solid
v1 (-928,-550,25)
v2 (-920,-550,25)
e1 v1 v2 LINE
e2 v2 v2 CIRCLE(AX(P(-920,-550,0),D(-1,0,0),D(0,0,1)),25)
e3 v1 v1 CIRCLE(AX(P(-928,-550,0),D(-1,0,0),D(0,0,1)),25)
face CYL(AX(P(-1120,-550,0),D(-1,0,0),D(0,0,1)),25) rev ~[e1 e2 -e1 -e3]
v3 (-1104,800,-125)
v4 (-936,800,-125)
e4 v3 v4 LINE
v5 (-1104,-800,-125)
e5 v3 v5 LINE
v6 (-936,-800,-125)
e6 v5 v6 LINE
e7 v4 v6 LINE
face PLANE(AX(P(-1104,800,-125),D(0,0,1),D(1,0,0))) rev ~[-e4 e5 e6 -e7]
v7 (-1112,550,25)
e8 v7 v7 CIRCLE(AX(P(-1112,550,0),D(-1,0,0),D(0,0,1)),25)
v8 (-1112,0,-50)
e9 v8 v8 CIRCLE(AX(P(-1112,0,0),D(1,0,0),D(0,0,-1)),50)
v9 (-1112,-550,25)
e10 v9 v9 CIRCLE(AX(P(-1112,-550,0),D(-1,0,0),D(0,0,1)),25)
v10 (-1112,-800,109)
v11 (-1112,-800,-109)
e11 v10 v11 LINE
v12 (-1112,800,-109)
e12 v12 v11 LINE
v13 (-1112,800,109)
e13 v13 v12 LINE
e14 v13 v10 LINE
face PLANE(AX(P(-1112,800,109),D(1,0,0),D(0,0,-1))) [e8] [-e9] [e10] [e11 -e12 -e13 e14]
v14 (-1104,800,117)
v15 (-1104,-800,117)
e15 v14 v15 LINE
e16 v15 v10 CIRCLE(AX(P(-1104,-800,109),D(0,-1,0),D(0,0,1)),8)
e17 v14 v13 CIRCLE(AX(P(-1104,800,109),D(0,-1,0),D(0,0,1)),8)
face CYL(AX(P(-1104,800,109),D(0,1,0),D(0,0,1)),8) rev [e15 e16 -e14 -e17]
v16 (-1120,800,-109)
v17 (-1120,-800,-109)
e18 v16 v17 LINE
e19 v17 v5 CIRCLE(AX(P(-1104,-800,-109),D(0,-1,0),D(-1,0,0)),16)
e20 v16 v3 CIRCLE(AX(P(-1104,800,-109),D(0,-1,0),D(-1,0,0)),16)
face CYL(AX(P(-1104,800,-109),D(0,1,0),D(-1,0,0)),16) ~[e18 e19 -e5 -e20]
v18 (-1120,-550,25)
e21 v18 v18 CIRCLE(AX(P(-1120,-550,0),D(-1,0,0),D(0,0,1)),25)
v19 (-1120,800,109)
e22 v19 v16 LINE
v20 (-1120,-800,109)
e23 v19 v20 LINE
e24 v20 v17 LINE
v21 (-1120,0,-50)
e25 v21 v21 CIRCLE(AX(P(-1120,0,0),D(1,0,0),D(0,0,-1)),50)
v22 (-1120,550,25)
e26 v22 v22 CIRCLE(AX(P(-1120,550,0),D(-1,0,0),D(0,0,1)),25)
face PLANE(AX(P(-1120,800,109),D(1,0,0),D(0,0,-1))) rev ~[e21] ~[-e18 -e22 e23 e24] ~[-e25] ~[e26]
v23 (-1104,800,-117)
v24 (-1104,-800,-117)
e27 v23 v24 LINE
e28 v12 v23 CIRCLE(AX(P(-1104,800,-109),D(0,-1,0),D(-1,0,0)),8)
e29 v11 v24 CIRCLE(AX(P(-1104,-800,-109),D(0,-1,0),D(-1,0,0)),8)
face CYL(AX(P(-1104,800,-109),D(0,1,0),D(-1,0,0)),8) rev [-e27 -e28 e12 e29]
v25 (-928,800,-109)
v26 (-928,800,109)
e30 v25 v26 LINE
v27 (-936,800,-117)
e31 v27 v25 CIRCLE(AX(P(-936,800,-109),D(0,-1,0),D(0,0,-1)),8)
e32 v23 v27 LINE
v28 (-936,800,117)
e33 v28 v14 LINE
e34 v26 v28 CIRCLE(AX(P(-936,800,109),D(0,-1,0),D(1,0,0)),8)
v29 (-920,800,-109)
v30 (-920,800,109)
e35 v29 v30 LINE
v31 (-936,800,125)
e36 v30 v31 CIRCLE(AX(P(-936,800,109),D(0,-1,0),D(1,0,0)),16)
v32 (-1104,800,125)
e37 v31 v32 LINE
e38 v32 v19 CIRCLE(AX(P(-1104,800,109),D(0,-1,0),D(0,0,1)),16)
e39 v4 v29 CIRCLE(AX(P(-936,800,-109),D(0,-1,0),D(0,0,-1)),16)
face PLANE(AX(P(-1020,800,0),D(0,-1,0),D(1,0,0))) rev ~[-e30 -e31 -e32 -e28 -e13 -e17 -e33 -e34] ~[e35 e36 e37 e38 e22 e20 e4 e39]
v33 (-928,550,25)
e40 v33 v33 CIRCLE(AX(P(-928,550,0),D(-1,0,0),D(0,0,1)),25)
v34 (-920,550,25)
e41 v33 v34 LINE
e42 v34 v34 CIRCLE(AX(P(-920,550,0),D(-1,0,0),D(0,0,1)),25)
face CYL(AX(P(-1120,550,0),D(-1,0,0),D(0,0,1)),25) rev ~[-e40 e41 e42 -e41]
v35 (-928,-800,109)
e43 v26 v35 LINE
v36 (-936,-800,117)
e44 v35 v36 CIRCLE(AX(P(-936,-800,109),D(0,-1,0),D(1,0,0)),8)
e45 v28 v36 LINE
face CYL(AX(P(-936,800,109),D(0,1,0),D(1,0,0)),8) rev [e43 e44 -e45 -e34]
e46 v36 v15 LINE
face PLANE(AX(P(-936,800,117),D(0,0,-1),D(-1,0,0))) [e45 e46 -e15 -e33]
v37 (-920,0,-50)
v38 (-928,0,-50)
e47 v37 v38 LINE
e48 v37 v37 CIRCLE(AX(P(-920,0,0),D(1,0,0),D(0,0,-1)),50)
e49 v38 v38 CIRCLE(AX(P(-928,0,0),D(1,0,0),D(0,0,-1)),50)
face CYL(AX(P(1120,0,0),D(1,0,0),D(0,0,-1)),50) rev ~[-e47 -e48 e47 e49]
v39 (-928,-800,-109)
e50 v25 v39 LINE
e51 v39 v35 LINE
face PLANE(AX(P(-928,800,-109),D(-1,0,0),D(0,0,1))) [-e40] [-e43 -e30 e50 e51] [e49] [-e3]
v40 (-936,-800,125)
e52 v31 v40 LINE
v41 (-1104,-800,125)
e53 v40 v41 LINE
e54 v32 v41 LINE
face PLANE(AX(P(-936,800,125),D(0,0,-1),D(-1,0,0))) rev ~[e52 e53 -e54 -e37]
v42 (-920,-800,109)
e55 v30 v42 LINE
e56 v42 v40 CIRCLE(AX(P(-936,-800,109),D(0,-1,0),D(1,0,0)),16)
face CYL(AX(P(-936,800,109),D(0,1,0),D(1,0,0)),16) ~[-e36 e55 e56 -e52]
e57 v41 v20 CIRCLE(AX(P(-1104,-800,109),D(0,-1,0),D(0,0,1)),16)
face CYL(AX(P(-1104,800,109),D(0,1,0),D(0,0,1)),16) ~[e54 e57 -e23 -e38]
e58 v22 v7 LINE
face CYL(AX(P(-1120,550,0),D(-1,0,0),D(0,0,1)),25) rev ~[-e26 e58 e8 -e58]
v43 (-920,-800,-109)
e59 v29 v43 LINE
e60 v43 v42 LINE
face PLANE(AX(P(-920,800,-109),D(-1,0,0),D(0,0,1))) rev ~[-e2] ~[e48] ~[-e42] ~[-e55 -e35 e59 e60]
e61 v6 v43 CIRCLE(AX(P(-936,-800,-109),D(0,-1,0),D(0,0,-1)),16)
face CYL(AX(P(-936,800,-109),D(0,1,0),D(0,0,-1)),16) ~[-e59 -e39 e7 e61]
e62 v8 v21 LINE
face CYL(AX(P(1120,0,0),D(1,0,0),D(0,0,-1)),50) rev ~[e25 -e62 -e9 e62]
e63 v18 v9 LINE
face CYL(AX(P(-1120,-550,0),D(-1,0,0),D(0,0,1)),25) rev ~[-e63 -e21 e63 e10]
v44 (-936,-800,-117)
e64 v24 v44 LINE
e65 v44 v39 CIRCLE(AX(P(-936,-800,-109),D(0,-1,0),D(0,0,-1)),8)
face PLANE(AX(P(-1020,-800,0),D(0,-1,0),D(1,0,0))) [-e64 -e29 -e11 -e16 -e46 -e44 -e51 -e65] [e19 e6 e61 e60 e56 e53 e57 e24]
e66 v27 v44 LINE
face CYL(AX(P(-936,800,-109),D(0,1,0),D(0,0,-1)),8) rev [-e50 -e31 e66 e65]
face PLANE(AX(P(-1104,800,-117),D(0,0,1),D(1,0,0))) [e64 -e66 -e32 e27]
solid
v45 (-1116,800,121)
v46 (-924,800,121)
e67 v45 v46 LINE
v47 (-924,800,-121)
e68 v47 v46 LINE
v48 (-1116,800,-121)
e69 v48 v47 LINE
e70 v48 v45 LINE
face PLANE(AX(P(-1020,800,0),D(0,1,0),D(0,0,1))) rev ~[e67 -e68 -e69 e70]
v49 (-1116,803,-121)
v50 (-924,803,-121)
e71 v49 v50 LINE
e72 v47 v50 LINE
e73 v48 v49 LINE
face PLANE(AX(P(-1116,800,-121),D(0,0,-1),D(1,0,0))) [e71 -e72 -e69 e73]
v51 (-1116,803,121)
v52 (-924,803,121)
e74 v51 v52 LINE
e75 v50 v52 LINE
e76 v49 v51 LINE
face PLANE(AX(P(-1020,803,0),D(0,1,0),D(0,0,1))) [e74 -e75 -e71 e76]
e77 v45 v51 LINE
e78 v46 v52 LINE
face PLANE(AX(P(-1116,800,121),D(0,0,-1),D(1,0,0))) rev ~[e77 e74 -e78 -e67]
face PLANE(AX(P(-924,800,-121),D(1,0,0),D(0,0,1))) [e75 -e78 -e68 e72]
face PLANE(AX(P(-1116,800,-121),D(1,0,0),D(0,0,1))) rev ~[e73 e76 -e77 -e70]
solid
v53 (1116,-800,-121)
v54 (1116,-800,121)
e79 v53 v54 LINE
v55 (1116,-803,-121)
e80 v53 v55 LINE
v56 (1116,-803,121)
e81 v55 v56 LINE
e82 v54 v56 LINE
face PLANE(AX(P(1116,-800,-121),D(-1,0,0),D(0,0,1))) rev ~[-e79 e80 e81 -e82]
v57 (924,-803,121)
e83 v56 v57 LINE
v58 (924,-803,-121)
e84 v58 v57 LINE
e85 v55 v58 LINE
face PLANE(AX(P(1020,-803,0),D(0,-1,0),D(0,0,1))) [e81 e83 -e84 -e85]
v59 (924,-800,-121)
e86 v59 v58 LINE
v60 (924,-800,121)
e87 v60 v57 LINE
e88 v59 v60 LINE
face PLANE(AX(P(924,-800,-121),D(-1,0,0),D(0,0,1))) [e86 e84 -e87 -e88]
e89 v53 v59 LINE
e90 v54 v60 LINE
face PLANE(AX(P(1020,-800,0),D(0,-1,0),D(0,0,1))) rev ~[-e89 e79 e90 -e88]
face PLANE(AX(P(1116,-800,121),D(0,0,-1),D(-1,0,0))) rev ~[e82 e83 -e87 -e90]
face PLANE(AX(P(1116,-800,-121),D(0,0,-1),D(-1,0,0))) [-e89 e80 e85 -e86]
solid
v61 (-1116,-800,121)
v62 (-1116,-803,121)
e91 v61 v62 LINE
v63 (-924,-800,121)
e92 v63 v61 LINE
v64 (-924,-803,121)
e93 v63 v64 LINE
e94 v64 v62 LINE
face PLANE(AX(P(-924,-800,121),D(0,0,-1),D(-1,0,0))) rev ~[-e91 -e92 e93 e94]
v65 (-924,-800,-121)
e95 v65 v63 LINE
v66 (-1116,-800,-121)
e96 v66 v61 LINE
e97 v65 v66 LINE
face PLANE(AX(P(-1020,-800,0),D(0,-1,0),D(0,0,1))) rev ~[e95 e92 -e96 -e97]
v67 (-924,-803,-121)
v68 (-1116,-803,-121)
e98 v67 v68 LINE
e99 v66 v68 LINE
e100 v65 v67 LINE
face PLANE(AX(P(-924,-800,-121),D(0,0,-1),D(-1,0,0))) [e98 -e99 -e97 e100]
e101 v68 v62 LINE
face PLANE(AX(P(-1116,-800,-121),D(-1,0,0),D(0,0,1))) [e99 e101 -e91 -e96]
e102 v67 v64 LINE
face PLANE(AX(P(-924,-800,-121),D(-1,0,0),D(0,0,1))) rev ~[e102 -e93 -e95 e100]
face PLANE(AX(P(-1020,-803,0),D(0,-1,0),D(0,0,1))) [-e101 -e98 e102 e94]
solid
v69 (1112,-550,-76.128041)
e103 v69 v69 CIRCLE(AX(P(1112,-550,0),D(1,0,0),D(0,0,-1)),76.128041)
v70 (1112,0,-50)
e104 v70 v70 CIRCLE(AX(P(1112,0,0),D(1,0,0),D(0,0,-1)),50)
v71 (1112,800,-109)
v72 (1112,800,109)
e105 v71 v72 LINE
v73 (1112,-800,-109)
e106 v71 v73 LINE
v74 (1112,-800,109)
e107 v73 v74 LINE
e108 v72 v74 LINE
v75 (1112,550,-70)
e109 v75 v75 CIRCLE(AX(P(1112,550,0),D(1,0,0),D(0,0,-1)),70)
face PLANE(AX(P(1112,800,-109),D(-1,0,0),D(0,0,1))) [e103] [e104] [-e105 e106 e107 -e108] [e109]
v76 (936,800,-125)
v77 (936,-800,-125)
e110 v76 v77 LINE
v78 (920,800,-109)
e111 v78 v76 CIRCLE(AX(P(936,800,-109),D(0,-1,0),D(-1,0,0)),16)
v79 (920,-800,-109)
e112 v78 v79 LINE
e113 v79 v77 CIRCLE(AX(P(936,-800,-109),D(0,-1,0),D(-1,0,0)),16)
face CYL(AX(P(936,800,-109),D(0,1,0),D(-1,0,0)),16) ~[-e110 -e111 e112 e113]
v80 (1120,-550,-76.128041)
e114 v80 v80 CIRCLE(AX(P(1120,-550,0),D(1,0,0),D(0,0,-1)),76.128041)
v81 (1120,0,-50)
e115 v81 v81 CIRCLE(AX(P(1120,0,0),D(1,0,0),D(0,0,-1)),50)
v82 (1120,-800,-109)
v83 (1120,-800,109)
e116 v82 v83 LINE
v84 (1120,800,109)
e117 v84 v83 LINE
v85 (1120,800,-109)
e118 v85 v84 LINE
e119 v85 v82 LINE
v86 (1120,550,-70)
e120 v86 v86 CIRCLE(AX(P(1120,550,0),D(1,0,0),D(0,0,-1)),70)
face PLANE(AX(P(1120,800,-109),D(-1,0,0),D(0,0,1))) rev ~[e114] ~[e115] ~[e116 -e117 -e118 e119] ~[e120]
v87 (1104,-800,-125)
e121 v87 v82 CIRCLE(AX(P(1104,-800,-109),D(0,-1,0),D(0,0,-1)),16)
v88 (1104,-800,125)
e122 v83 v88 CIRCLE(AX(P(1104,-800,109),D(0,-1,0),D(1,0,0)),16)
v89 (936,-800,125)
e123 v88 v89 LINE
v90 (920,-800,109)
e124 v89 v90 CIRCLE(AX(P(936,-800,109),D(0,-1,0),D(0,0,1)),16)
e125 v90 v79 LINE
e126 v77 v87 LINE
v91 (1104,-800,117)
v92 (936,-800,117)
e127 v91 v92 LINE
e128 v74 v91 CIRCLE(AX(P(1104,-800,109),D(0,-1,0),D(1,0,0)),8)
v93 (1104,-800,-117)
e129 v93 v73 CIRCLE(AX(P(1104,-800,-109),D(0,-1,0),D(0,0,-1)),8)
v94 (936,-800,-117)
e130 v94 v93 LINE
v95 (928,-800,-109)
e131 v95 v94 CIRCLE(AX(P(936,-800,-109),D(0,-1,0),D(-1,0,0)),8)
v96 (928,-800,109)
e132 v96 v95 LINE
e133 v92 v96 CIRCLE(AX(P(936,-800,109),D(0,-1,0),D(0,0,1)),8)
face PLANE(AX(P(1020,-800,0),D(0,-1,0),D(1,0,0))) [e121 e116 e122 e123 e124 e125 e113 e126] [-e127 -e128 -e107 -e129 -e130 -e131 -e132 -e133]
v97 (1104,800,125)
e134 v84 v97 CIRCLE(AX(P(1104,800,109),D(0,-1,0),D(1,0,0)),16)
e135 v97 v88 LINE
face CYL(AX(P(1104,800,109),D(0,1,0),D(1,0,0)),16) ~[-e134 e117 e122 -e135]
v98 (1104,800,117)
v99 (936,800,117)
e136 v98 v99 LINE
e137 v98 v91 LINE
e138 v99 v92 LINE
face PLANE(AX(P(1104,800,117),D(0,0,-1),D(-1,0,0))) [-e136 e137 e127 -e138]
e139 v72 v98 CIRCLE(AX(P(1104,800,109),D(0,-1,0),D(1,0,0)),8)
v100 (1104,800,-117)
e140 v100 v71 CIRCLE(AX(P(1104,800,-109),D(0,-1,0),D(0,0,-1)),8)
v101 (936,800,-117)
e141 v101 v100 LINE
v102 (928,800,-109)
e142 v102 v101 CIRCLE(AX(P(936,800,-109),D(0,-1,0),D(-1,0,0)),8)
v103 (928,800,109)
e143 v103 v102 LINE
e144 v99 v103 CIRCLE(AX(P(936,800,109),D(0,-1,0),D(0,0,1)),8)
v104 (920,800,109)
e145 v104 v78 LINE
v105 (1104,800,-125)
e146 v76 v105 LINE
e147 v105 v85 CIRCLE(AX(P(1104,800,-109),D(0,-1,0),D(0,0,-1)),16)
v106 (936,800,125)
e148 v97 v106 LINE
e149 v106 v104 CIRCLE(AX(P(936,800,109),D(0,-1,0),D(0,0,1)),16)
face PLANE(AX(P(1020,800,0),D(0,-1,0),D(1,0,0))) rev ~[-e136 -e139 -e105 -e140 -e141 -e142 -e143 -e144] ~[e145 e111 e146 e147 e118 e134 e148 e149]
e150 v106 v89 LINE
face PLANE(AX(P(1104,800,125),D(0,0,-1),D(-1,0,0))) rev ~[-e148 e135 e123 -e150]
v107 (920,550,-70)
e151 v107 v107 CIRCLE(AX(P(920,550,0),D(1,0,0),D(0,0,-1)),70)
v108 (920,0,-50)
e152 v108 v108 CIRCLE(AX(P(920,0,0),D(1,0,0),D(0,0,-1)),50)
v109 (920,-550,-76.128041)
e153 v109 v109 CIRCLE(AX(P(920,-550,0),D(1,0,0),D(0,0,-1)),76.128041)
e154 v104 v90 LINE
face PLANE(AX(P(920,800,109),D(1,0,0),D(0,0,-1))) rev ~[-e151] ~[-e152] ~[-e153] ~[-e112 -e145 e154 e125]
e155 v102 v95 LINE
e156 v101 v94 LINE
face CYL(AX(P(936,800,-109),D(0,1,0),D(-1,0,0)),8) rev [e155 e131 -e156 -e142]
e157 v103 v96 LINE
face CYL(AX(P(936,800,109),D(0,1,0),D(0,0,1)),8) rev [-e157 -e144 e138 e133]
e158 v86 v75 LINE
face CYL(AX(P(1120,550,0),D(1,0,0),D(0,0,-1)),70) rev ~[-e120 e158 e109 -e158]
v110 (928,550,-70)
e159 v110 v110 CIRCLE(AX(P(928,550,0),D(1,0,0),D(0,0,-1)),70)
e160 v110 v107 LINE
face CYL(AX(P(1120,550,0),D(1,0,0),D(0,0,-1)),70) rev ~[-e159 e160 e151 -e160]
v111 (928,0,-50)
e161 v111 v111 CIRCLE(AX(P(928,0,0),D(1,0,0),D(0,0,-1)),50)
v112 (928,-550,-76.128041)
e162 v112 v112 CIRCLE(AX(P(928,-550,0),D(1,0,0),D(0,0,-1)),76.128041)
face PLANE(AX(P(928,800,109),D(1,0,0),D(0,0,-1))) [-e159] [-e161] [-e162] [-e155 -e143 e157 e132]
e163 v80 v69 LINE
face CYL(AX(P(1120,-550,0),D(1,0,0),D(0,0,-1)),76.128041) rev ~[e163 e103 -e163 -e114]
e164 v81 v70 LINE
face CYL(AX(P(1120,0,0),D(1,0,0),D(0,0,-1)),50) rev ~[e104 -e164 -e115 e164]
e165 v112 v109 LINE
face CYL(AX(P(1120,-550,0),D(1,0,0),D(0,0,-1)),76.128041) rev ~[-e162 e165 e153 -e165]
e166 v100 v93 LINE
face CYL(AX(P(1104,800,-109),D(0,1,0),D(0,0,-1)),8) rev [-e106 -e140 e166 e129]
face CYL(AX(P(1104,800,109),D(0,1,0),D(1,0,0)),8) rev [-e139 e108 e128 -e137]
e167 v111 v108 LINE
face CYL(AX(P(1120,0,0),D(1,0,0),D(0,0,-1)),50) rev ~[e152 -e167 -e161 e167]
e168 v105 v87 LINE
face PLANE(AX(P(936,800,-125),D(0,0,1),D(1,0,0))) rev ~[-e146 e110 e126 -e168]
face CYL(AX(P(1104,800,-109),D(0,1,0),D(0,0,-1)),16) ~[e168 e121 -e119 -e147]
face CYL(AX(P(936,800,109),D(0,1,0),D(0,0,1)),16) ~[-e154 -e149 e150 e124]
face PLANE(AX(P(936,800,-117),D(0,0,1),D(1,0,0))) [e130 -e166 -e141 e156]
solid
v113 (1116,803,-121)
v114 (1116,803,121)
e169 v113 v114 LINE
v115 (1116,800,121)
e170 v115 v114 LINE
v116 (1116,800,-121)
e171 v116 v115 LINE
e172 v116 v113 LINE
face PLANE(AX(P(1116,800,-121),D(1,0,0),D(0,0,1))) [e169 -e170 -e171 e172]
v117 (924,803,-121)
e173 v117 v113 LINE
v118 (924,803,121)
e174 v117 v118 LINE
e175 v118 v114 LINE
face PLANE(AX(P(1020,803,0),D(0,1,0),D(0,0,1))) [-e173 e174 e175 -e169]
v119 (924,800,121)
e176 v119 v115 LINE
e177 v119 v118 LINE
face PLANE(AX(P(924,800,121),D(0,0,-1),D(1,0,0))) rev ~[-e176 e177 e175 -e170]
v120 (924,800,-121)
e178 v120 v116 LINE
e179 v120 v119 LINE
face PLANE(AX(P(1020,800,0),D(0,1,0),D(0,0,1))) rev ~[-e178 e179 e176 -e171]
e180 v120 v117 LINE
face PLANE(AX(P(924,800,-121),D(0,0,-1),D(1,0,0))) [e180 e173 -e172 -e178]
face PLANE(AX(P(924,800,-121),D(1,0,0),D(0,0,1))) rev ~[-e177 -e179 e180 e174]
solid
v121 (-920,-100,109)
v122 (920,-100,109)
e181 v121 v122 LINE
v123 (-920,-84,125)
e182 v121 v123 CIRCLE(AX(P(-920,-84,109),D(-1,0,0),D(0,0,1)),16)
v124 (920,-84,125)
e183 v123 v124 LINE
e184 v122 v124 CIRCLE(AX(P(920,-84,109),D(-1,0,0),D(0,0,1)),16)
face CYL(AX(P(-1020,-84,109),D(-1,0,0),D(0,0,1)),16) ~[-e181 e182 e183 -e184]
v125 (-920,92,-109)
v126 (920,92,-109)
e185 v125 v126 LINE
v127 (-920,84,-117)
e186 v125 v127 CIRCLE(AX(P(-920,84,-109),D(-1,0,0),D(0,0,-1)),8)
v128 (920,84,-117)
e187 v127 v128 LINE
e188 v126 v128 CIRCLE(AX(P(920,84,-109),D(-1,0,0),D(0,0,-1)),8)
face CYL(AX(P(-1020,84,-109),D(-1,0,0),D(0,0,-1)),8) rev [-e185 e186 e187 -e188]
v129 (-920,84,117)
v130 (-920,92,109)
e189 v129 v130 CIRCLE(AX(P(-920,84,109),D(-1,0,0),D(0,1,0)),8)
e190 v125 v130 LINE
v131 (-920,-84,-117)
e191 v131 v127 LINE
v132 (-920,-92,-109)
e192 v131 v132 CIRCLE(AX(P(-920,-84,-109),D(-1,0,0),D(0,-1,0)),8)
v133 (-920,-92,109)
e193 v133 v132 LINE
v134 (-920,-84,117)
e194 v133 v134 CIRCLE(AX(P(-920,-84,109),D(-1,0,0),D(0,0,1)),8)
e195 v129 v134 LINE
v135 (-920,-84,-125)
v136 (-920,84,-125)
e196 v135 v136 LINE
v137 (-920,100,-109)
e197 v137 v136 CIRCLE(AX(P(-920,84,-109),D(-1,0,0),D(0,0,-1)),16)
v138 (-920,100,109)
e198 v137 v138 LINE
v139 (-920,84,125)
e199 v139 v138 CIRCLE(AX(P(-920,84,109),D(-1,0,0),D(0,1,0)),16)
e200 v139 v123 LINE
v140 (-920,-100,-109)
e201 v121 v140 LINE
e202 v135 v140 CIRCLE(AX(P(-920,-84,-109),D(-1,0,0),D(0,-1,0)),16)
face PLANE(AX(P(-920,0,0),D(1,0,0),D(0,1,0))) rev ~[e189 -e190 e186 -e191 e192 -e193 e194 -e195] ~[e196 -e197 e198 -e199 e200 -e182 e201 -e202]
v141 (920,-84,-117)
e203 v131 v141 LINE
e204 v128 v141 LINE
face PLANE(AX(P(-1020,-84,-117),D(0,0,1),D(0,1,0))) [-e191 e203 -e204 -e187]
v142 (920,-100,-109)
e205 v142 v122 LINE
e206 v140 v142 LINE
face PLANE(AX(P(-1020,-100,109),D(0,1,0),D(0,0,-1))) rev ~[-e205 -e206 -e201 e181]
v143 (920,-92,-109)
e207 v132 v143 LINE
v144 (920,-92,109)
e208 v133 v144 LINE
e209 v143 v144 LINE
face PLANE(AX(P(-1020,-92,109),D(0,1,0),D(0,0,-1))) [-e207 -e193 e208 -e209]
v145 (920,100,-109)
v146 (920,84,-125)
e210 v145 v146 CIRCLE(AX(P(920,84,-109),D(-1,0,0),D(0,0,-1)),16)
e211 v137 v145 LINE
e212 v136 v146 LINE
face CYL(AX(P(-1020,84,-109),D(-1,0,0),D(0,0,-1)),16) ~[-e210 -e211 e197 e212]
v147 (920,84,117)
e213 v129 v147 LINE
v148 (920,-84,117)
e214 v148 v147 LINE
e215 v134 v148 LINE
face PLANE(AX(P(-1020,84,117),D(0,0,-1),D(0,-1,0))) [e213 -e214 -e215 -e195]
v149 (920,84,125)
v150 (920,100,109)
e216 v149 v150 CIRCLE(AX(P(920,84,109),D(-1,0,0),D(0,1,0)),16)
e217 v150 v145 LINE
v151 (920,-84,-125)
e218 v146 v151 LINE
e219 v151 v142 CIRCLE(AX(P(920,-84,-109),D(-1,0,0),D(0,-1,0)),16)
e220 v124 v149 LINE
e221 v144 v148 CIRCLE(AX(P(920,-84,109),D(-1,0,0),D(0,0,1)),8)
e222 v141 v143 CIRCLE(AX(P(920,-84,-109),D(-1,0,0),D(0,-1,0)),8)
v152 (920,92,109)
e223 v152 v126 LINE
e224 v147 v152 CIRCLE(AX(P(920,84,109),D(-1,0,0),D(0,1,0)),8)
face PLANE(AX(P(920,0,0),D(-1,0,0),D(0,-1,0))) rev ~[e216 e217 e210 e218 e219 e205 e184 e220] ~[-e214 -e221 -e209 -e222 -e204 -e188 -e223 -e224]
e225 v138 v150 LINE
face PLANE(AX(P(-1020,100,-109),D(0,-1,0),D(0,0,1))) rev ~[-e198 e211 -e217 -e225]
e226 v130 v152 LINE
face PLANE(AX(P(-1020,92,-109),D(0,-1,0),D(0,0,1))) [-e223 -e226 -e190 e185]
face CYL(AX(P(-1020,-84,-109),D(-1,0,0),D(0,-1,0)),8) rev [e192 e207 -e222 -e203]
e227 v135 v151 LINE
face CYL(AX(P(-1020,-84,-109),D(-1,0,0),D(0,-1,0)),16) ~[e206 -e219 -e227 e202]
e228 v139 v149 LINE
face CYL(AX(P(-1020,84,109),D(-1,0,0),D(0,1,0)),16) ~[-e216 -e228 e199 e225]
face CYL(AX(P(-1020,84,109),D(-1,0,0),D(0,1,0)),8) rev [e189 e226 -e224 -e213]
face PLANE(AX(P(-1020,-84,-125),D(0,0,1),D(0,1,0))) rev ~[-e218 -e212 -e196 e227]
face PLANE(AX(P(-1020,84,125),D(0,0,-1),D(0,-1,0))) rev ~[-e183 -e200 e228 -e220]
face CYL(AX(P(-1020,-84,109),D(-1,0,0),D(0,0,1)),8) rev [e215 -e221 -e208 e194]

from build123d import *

# Parameters (mm, degrees)
MEMBER_1_DEPTH         = 1600
MEMBER_1_2_DEPTH       = 1600
MEMBER_2_DEPTH         = 2040
CUT_EXTRUDE_1_REACH    = 2383.853
SKETCH_2_R             = 70
SKETCH_2_R_2           = 76.128040806
SKETCH_3_R             = 50
CUT_EXTRUDE_2_DEPTH    = 2382.85327004
END_CAP_1_WIDTH        = 242
END_CAP_1_HEIGHT       = 192
END_CAP_1_THICKNESS    = 3
END_CAP_1_4_WIDTH      = 242
END_CAP_1_4_HEIGHT     = 192
END_CAP_1_4_THICKNESS  = 3
END_CAP_1_7_WIDTH      = 242
END_CAP_1_7_HEIGHT     = 192
END_CAP_1_7_THICKNESS  = 3
END_CAP_1_10_WIDTH     = 242
END_CAP_1_10_HEIGHT    = 192
END_CAP_1_10_THICKNESS = 3
CUT_EXTRUDE_3_REACH    = 2384.863
SKETCH_5_R             = 25


with BuildPart() as part:
    # Sketch1 → Member 1 (new body)
    with BuildSketch(Plane(origin=(-1020, 800, 0), x_dir=(1, 0, 0), z_dir=(0, -1, 0))):
        with BuildLine():
            Line((-84, -125), (84, -125))
            ThreePointArc((84, -125), (95.313708499, -120.313708499), (100, -109))
            Line((100, -109), (100, 109))
            ThreePointArc((100, 109), (95.313708499, 120.313708499), (84, 125))
            Line((84, 125), (-84, 125))
            ThreePointArc((-84, 125), (-95.313708499, 120.313708499), (-100, 109))
            Line((-100, 109), (-100, -109))
            ThreePointArc((-100, -109), (-95.313708499, -120.313708499), (-84, -125))
        make_face()
        with BuildLine():
            Line((-84, -117), (84, -117))
            ThreePointArc((84, -117), (89.656854249, -114.656854249), (92, -109))
            Line((92, -109), (92, 109))
            ThreePointArc((92, 109), (89.656854249, 114.656854249), (84, 117))
            Line((84, 117), (-84, 117))
            ThreePointArc((-84, 117), (-89.656854249, 114.656854249), (-92, 109))
            Line((-92, 109), (-92, -109))
            ThreePointArc((-92, -109), (-89.656854249, -114.656854249), (-84, -117))
        make_face(mode=Mode.SUBTRACT)
    extrude(amount=MEMBER_1_DEPTH)


with BuildPart() as body_2:
    # Sketch1 on segment 2 (carried to segment 2) → Member 1 2 (new body)
    with BuildSketch(Plane(origin=(1020, 800, 0), x_dir=(1, 0, 0), z_dir=(0, -1, 0))):
        with BuildLine():
            Line((-84, -125), (84, -125))
            ThreePointArc((84, -125), (95.313708499, -120.313708499), (100, -109))
            Line((100, -109), (100, 109))
            ThreePointArc((100, 109), (95.313708499, 120.313708499), (84, 125))
            Line((84, 125), (-84, 125))
            ThreePointArc((-84, 125), (-95.313708499, 120.313708499), (-100, 109))
            Line((-100, 109), (-100, -109))
            ThreePointArc((-100, -109), (-95.313708499, -120.313708499), (-84, -125))
        make_face()
        with BuildLine():
            Line((-84, -117), (84, -117))
            ThreePointArc((84, -117), (89.656854249, -114.656854249), (92, -109))
            Line((92, -109), (92, 109))
            ThreePointArc((92, 109), (89.656854249, 114.656854249), (84, 117))
            Line((84, 117), (-84, 117))
            ThreePointArc((-84, 117), (-89.656854249, 114.656854249), (-92, 109))
            Line((-92, 109), (-92, -109))
            ThreePointArc((-92, -109), (-89.656854249, -114.656854249), (-84, -117))
        make_face(mode=Mode.SUBTRACT)
    extrude(amount=MEMBER_1_2_DEPTH)

    # 切除-拉伸1: up to this face of the body (flat: up to its plane)
    cut_extrude_1_end = Plane(body_2.part.faces().sort_by_distance((920, 0, 0))[0])
    # 草图2 → 切除-拉伸1 (cut, up to the picked face)
    with BuildSketch(Plane(origin=(1120, 0, 0), x_dir=(0, 0, -1), z_dir=(1, 0, 0)), mode=Mode.PRIVATE) as cut_extrude_1_sk1:
        with Locations((0, 550)):
            Circle(SKETCH_2_R)
    cut_extrude_1_tool1 = split(extrude(cut_extrude_1_sk1.sketch, amount=-CUT_EXTRUDE_1_REACH, mode=Mode.PRIVATE), bisect_by=cut_extrude_1_end, keep=Keep.BOTH, mode=Mode.PRIVATE)
    # 草图2 → 切除-拉伸1 (cut, up to the picked face)
    with BuildSketch(Plane(origin=(1120, 0, 0), x_dir=(0, 0, -1), z_dir=(1, 0, 0)), mode=Mode.PRIVATE) as cut_extrude_1_sk2:
        with Locations((0, -550)):
            Circle(SKETCH_2_R_2)
    cut_extrude_1_tool2 = split(extrude(cut_extrude_1_sk2.sketch, amount=-CUT_EXTRUDE_1_REACH, mode=Mode.PRIVATE), bisect_by=cut_extrude_1_end, keep=Keep.BOTH, mode=Mode.PRIVATE)
    add(cut_extrude_1_tool1.solids().sort_by(Axis((1120, 550, 0), (-1, 0, 0)))[0], mode=Mode.SUBTRACT)
    add(cut_extrude_1_tool2.solids().sort_by(Axis((1120, -550, 0), (-1, 0, 0)))[0], mode=Mode.SUBTRACT)


with BuildPart() as body_3:
    # Sketch11 → Member 2 (new body)
    with BuildSketch(Plane.YZ.offset(-1020)):
        with BuildLine():
            Line((-84, -125), (84, -125))
            ThreePointArc((84, -125), (95.313708499, -120.313708499), (100, -109))
            Line((100, -109), (100, 109))
            ThreePointArc((100, 109), (95.313708499, 120.313708499), (84, 125))
            Line((84, 125), (-84, 125))
            ThreePointArc((-84, 125), (-95.313708499, 120.313708499), (-100, 109))
            Line((-100, 109), (-100, -109))
            ThreePointArc((-100, -109), (-95.313708499, -120.313708499), (-84, -125))
        make_face()
        with BuildLine():
            Line((-84, -117), (84, -117))
            ThreePointArc((84, -117), (89.656854249, -114.656854249), (92, -109))
            Line((92, -109), (92, 109))
            ThreePointArc((92, 109), (89.656854249, 114.656854249), (84, 117))
            Line((84, 117), (-84, 117))
            ThreePointArc((-84, 117), (-89.656854249, 114.656854249), (-92, 109))
            Line((-92, 109), (-92, -109))
            ThreePointArc((-92, -109), (-89.656854249, -114.656854249), (-84, -117))
        make_face(mode=Mode.SUBTRACT)
    extrude(amount=MEMBER_2_DEPTH)

    # Weld Trim 1 41
    split(bisect_by=Plane.YZ.offset(-920), keep=Keep.TOP)

    # Weld Trim 1 48
    split(bisect_by=Plane(origin=(920, 0, 0), x_dir=(0, -1, 0), z_dir=(-1, 0, 0)), keep=Keep.TOP)


with BuildPart() as cut_extrude_2_tool:
    # 草图3 → 切除-拉伸2 (new, through all)
    with BuildSketch(Plane(origin=(1120, 0, 0), x_dir=(0, 0, -1), z_dir=(1, 0, 0))):
        Circle(SKETCH_3_R)
    extrude(amount=-CUT_EXTRUDE_2_DEPTH)


with BuildPart() as part_1:
    add(part.part)

    # 切除-拉伸2: cut by cut_extrude_2_tool
    add(cut_extrude_2_tool.part, mode=Mode.SUBTRACT)

    # 切除-拉伸3: up to this face of the body (flat: up to its plane)
    cut_extrude_3_end = Plane(part_1.part.faces().sort_by_distance((-920, 0, -92.852170424))[0])
    # 草图5 → 切除-拉伸3 (cut, up to the picked face)
    with BuildSketch(Plane.ZY.offset(1120), mode=Mode.PRIVATE) as cut_extrude_3_sk1:
        with Locations((0, 550)):
            Circle(SKETCH_5_R)
    cut_extrude_3_tool1 = split(extrude(cut_extrude_3_sk1.sketch, amount=-CUT_EXTRUDE_3_REACH, mode=Mode.PRIVATE), bisect_by=cut_extrude_3_end, keep=Keep.BOTH, mode=Mode.PRIVATE)
    # 草图5 → 切除-拉伸3 (cut, up to the picked face)
    with BuildSketch(Plane.ZY.offset(1120), mode=Mode.PRIVATE) as cut_extrude_3_sk2:
        with Locations((0, -550)):
            Circle(SKETCH_5_R)
    cut_extrude_3_tool2 = split(extrude(cut_extrude_3_sk2.sketch, amount=-CUT_EXTRUDE_3_REACH, mode=Mode.PRIVATE), bisect_by=cut_extrude_3_end, keep=Keep.BOTH, mode=Mode.PRIVATE)
    add(cut_extrude_3_tool1.solids().sort_by(Axis((-1120, 550, 0), (1, 0, 0)))[0], mode=Mode.SUBTRACT)
    add(cut_extrude_3_tool2.solids().sort_by(Axis((-1120, -550, 0), (1, 0, 0)))[0], mode=Mode.SUBTRACT)


with BuildPart() as body_2_1:
    add(body_2.part)

    # 切除-拉伸2: cut by cut_extrude_2_tool
    add(cut_extrude_2_tool.part, mode=Mode.SUBTRACT)


with BuildPart() as body_4:
    # End Cap 1: an end cap: a rectangular plate 3.0 thick over the member's open end
    with BuildSketch(Plane(origin=(1020, 800, 0), x_dir=(0, 0, 1), z_dir=(0, 1, 0))):
        Rectangle(END_CAP_1_WIDTH, END_CAP_1_HEIGHT)
    extrude(amount=END_CAP_1_THICKNESS)


with BuildPart() as body_5:
    # End Cap 1 4: an end cap: a rectangular plate 3.0 thick over the member's open end
    with BuildSketch(Plane(origin=(-1020, 800, 0), x_dir=(0, 0, 1), z_dir=(0, 1, 0))):
        Rectangle(END_CAP_1_4_WIDTH, END_CAP_1_4_HEIGHT)
    extrude(amount=END_CAP_1_4_THICKNESS)


with BuildPart() as body_6:
    # End Cap 1 7: an end cap: a rectangular plate 3.0 thick over the member's open end
    with BuildSketch(Plane(origin=(1020, -800, 0), x_dir=(0, 0, 1), z_dir=(0, -1, 0))):
        Rectangle(END_CAP_1_7_WIDTH, END_CAP_1_7_HEIGHT)
    extrude(amount=END_CAP_1_7_THICKNESS)


with BuildPart() as body_7:
    # End Cap 1 10: an end cap: a rectangular plate 3.0 thick over the member's open end
    with BuildSketch(Plane(origin=(-1020, -800, 0), x_dir=(0, 0, 1), z_dir=(0, -1, 0))):
        Rectangle(END_CAP_1_10_WIDTH, END_CAP_1_10_HEIGHT)
    extrude(amount=END_CAP_1_10_THICKNESS)


solid = Compound([body_3.part, part_1.part, body_2_1.part, body_4.part, body_5.part, body_6.part, body_7.part])
